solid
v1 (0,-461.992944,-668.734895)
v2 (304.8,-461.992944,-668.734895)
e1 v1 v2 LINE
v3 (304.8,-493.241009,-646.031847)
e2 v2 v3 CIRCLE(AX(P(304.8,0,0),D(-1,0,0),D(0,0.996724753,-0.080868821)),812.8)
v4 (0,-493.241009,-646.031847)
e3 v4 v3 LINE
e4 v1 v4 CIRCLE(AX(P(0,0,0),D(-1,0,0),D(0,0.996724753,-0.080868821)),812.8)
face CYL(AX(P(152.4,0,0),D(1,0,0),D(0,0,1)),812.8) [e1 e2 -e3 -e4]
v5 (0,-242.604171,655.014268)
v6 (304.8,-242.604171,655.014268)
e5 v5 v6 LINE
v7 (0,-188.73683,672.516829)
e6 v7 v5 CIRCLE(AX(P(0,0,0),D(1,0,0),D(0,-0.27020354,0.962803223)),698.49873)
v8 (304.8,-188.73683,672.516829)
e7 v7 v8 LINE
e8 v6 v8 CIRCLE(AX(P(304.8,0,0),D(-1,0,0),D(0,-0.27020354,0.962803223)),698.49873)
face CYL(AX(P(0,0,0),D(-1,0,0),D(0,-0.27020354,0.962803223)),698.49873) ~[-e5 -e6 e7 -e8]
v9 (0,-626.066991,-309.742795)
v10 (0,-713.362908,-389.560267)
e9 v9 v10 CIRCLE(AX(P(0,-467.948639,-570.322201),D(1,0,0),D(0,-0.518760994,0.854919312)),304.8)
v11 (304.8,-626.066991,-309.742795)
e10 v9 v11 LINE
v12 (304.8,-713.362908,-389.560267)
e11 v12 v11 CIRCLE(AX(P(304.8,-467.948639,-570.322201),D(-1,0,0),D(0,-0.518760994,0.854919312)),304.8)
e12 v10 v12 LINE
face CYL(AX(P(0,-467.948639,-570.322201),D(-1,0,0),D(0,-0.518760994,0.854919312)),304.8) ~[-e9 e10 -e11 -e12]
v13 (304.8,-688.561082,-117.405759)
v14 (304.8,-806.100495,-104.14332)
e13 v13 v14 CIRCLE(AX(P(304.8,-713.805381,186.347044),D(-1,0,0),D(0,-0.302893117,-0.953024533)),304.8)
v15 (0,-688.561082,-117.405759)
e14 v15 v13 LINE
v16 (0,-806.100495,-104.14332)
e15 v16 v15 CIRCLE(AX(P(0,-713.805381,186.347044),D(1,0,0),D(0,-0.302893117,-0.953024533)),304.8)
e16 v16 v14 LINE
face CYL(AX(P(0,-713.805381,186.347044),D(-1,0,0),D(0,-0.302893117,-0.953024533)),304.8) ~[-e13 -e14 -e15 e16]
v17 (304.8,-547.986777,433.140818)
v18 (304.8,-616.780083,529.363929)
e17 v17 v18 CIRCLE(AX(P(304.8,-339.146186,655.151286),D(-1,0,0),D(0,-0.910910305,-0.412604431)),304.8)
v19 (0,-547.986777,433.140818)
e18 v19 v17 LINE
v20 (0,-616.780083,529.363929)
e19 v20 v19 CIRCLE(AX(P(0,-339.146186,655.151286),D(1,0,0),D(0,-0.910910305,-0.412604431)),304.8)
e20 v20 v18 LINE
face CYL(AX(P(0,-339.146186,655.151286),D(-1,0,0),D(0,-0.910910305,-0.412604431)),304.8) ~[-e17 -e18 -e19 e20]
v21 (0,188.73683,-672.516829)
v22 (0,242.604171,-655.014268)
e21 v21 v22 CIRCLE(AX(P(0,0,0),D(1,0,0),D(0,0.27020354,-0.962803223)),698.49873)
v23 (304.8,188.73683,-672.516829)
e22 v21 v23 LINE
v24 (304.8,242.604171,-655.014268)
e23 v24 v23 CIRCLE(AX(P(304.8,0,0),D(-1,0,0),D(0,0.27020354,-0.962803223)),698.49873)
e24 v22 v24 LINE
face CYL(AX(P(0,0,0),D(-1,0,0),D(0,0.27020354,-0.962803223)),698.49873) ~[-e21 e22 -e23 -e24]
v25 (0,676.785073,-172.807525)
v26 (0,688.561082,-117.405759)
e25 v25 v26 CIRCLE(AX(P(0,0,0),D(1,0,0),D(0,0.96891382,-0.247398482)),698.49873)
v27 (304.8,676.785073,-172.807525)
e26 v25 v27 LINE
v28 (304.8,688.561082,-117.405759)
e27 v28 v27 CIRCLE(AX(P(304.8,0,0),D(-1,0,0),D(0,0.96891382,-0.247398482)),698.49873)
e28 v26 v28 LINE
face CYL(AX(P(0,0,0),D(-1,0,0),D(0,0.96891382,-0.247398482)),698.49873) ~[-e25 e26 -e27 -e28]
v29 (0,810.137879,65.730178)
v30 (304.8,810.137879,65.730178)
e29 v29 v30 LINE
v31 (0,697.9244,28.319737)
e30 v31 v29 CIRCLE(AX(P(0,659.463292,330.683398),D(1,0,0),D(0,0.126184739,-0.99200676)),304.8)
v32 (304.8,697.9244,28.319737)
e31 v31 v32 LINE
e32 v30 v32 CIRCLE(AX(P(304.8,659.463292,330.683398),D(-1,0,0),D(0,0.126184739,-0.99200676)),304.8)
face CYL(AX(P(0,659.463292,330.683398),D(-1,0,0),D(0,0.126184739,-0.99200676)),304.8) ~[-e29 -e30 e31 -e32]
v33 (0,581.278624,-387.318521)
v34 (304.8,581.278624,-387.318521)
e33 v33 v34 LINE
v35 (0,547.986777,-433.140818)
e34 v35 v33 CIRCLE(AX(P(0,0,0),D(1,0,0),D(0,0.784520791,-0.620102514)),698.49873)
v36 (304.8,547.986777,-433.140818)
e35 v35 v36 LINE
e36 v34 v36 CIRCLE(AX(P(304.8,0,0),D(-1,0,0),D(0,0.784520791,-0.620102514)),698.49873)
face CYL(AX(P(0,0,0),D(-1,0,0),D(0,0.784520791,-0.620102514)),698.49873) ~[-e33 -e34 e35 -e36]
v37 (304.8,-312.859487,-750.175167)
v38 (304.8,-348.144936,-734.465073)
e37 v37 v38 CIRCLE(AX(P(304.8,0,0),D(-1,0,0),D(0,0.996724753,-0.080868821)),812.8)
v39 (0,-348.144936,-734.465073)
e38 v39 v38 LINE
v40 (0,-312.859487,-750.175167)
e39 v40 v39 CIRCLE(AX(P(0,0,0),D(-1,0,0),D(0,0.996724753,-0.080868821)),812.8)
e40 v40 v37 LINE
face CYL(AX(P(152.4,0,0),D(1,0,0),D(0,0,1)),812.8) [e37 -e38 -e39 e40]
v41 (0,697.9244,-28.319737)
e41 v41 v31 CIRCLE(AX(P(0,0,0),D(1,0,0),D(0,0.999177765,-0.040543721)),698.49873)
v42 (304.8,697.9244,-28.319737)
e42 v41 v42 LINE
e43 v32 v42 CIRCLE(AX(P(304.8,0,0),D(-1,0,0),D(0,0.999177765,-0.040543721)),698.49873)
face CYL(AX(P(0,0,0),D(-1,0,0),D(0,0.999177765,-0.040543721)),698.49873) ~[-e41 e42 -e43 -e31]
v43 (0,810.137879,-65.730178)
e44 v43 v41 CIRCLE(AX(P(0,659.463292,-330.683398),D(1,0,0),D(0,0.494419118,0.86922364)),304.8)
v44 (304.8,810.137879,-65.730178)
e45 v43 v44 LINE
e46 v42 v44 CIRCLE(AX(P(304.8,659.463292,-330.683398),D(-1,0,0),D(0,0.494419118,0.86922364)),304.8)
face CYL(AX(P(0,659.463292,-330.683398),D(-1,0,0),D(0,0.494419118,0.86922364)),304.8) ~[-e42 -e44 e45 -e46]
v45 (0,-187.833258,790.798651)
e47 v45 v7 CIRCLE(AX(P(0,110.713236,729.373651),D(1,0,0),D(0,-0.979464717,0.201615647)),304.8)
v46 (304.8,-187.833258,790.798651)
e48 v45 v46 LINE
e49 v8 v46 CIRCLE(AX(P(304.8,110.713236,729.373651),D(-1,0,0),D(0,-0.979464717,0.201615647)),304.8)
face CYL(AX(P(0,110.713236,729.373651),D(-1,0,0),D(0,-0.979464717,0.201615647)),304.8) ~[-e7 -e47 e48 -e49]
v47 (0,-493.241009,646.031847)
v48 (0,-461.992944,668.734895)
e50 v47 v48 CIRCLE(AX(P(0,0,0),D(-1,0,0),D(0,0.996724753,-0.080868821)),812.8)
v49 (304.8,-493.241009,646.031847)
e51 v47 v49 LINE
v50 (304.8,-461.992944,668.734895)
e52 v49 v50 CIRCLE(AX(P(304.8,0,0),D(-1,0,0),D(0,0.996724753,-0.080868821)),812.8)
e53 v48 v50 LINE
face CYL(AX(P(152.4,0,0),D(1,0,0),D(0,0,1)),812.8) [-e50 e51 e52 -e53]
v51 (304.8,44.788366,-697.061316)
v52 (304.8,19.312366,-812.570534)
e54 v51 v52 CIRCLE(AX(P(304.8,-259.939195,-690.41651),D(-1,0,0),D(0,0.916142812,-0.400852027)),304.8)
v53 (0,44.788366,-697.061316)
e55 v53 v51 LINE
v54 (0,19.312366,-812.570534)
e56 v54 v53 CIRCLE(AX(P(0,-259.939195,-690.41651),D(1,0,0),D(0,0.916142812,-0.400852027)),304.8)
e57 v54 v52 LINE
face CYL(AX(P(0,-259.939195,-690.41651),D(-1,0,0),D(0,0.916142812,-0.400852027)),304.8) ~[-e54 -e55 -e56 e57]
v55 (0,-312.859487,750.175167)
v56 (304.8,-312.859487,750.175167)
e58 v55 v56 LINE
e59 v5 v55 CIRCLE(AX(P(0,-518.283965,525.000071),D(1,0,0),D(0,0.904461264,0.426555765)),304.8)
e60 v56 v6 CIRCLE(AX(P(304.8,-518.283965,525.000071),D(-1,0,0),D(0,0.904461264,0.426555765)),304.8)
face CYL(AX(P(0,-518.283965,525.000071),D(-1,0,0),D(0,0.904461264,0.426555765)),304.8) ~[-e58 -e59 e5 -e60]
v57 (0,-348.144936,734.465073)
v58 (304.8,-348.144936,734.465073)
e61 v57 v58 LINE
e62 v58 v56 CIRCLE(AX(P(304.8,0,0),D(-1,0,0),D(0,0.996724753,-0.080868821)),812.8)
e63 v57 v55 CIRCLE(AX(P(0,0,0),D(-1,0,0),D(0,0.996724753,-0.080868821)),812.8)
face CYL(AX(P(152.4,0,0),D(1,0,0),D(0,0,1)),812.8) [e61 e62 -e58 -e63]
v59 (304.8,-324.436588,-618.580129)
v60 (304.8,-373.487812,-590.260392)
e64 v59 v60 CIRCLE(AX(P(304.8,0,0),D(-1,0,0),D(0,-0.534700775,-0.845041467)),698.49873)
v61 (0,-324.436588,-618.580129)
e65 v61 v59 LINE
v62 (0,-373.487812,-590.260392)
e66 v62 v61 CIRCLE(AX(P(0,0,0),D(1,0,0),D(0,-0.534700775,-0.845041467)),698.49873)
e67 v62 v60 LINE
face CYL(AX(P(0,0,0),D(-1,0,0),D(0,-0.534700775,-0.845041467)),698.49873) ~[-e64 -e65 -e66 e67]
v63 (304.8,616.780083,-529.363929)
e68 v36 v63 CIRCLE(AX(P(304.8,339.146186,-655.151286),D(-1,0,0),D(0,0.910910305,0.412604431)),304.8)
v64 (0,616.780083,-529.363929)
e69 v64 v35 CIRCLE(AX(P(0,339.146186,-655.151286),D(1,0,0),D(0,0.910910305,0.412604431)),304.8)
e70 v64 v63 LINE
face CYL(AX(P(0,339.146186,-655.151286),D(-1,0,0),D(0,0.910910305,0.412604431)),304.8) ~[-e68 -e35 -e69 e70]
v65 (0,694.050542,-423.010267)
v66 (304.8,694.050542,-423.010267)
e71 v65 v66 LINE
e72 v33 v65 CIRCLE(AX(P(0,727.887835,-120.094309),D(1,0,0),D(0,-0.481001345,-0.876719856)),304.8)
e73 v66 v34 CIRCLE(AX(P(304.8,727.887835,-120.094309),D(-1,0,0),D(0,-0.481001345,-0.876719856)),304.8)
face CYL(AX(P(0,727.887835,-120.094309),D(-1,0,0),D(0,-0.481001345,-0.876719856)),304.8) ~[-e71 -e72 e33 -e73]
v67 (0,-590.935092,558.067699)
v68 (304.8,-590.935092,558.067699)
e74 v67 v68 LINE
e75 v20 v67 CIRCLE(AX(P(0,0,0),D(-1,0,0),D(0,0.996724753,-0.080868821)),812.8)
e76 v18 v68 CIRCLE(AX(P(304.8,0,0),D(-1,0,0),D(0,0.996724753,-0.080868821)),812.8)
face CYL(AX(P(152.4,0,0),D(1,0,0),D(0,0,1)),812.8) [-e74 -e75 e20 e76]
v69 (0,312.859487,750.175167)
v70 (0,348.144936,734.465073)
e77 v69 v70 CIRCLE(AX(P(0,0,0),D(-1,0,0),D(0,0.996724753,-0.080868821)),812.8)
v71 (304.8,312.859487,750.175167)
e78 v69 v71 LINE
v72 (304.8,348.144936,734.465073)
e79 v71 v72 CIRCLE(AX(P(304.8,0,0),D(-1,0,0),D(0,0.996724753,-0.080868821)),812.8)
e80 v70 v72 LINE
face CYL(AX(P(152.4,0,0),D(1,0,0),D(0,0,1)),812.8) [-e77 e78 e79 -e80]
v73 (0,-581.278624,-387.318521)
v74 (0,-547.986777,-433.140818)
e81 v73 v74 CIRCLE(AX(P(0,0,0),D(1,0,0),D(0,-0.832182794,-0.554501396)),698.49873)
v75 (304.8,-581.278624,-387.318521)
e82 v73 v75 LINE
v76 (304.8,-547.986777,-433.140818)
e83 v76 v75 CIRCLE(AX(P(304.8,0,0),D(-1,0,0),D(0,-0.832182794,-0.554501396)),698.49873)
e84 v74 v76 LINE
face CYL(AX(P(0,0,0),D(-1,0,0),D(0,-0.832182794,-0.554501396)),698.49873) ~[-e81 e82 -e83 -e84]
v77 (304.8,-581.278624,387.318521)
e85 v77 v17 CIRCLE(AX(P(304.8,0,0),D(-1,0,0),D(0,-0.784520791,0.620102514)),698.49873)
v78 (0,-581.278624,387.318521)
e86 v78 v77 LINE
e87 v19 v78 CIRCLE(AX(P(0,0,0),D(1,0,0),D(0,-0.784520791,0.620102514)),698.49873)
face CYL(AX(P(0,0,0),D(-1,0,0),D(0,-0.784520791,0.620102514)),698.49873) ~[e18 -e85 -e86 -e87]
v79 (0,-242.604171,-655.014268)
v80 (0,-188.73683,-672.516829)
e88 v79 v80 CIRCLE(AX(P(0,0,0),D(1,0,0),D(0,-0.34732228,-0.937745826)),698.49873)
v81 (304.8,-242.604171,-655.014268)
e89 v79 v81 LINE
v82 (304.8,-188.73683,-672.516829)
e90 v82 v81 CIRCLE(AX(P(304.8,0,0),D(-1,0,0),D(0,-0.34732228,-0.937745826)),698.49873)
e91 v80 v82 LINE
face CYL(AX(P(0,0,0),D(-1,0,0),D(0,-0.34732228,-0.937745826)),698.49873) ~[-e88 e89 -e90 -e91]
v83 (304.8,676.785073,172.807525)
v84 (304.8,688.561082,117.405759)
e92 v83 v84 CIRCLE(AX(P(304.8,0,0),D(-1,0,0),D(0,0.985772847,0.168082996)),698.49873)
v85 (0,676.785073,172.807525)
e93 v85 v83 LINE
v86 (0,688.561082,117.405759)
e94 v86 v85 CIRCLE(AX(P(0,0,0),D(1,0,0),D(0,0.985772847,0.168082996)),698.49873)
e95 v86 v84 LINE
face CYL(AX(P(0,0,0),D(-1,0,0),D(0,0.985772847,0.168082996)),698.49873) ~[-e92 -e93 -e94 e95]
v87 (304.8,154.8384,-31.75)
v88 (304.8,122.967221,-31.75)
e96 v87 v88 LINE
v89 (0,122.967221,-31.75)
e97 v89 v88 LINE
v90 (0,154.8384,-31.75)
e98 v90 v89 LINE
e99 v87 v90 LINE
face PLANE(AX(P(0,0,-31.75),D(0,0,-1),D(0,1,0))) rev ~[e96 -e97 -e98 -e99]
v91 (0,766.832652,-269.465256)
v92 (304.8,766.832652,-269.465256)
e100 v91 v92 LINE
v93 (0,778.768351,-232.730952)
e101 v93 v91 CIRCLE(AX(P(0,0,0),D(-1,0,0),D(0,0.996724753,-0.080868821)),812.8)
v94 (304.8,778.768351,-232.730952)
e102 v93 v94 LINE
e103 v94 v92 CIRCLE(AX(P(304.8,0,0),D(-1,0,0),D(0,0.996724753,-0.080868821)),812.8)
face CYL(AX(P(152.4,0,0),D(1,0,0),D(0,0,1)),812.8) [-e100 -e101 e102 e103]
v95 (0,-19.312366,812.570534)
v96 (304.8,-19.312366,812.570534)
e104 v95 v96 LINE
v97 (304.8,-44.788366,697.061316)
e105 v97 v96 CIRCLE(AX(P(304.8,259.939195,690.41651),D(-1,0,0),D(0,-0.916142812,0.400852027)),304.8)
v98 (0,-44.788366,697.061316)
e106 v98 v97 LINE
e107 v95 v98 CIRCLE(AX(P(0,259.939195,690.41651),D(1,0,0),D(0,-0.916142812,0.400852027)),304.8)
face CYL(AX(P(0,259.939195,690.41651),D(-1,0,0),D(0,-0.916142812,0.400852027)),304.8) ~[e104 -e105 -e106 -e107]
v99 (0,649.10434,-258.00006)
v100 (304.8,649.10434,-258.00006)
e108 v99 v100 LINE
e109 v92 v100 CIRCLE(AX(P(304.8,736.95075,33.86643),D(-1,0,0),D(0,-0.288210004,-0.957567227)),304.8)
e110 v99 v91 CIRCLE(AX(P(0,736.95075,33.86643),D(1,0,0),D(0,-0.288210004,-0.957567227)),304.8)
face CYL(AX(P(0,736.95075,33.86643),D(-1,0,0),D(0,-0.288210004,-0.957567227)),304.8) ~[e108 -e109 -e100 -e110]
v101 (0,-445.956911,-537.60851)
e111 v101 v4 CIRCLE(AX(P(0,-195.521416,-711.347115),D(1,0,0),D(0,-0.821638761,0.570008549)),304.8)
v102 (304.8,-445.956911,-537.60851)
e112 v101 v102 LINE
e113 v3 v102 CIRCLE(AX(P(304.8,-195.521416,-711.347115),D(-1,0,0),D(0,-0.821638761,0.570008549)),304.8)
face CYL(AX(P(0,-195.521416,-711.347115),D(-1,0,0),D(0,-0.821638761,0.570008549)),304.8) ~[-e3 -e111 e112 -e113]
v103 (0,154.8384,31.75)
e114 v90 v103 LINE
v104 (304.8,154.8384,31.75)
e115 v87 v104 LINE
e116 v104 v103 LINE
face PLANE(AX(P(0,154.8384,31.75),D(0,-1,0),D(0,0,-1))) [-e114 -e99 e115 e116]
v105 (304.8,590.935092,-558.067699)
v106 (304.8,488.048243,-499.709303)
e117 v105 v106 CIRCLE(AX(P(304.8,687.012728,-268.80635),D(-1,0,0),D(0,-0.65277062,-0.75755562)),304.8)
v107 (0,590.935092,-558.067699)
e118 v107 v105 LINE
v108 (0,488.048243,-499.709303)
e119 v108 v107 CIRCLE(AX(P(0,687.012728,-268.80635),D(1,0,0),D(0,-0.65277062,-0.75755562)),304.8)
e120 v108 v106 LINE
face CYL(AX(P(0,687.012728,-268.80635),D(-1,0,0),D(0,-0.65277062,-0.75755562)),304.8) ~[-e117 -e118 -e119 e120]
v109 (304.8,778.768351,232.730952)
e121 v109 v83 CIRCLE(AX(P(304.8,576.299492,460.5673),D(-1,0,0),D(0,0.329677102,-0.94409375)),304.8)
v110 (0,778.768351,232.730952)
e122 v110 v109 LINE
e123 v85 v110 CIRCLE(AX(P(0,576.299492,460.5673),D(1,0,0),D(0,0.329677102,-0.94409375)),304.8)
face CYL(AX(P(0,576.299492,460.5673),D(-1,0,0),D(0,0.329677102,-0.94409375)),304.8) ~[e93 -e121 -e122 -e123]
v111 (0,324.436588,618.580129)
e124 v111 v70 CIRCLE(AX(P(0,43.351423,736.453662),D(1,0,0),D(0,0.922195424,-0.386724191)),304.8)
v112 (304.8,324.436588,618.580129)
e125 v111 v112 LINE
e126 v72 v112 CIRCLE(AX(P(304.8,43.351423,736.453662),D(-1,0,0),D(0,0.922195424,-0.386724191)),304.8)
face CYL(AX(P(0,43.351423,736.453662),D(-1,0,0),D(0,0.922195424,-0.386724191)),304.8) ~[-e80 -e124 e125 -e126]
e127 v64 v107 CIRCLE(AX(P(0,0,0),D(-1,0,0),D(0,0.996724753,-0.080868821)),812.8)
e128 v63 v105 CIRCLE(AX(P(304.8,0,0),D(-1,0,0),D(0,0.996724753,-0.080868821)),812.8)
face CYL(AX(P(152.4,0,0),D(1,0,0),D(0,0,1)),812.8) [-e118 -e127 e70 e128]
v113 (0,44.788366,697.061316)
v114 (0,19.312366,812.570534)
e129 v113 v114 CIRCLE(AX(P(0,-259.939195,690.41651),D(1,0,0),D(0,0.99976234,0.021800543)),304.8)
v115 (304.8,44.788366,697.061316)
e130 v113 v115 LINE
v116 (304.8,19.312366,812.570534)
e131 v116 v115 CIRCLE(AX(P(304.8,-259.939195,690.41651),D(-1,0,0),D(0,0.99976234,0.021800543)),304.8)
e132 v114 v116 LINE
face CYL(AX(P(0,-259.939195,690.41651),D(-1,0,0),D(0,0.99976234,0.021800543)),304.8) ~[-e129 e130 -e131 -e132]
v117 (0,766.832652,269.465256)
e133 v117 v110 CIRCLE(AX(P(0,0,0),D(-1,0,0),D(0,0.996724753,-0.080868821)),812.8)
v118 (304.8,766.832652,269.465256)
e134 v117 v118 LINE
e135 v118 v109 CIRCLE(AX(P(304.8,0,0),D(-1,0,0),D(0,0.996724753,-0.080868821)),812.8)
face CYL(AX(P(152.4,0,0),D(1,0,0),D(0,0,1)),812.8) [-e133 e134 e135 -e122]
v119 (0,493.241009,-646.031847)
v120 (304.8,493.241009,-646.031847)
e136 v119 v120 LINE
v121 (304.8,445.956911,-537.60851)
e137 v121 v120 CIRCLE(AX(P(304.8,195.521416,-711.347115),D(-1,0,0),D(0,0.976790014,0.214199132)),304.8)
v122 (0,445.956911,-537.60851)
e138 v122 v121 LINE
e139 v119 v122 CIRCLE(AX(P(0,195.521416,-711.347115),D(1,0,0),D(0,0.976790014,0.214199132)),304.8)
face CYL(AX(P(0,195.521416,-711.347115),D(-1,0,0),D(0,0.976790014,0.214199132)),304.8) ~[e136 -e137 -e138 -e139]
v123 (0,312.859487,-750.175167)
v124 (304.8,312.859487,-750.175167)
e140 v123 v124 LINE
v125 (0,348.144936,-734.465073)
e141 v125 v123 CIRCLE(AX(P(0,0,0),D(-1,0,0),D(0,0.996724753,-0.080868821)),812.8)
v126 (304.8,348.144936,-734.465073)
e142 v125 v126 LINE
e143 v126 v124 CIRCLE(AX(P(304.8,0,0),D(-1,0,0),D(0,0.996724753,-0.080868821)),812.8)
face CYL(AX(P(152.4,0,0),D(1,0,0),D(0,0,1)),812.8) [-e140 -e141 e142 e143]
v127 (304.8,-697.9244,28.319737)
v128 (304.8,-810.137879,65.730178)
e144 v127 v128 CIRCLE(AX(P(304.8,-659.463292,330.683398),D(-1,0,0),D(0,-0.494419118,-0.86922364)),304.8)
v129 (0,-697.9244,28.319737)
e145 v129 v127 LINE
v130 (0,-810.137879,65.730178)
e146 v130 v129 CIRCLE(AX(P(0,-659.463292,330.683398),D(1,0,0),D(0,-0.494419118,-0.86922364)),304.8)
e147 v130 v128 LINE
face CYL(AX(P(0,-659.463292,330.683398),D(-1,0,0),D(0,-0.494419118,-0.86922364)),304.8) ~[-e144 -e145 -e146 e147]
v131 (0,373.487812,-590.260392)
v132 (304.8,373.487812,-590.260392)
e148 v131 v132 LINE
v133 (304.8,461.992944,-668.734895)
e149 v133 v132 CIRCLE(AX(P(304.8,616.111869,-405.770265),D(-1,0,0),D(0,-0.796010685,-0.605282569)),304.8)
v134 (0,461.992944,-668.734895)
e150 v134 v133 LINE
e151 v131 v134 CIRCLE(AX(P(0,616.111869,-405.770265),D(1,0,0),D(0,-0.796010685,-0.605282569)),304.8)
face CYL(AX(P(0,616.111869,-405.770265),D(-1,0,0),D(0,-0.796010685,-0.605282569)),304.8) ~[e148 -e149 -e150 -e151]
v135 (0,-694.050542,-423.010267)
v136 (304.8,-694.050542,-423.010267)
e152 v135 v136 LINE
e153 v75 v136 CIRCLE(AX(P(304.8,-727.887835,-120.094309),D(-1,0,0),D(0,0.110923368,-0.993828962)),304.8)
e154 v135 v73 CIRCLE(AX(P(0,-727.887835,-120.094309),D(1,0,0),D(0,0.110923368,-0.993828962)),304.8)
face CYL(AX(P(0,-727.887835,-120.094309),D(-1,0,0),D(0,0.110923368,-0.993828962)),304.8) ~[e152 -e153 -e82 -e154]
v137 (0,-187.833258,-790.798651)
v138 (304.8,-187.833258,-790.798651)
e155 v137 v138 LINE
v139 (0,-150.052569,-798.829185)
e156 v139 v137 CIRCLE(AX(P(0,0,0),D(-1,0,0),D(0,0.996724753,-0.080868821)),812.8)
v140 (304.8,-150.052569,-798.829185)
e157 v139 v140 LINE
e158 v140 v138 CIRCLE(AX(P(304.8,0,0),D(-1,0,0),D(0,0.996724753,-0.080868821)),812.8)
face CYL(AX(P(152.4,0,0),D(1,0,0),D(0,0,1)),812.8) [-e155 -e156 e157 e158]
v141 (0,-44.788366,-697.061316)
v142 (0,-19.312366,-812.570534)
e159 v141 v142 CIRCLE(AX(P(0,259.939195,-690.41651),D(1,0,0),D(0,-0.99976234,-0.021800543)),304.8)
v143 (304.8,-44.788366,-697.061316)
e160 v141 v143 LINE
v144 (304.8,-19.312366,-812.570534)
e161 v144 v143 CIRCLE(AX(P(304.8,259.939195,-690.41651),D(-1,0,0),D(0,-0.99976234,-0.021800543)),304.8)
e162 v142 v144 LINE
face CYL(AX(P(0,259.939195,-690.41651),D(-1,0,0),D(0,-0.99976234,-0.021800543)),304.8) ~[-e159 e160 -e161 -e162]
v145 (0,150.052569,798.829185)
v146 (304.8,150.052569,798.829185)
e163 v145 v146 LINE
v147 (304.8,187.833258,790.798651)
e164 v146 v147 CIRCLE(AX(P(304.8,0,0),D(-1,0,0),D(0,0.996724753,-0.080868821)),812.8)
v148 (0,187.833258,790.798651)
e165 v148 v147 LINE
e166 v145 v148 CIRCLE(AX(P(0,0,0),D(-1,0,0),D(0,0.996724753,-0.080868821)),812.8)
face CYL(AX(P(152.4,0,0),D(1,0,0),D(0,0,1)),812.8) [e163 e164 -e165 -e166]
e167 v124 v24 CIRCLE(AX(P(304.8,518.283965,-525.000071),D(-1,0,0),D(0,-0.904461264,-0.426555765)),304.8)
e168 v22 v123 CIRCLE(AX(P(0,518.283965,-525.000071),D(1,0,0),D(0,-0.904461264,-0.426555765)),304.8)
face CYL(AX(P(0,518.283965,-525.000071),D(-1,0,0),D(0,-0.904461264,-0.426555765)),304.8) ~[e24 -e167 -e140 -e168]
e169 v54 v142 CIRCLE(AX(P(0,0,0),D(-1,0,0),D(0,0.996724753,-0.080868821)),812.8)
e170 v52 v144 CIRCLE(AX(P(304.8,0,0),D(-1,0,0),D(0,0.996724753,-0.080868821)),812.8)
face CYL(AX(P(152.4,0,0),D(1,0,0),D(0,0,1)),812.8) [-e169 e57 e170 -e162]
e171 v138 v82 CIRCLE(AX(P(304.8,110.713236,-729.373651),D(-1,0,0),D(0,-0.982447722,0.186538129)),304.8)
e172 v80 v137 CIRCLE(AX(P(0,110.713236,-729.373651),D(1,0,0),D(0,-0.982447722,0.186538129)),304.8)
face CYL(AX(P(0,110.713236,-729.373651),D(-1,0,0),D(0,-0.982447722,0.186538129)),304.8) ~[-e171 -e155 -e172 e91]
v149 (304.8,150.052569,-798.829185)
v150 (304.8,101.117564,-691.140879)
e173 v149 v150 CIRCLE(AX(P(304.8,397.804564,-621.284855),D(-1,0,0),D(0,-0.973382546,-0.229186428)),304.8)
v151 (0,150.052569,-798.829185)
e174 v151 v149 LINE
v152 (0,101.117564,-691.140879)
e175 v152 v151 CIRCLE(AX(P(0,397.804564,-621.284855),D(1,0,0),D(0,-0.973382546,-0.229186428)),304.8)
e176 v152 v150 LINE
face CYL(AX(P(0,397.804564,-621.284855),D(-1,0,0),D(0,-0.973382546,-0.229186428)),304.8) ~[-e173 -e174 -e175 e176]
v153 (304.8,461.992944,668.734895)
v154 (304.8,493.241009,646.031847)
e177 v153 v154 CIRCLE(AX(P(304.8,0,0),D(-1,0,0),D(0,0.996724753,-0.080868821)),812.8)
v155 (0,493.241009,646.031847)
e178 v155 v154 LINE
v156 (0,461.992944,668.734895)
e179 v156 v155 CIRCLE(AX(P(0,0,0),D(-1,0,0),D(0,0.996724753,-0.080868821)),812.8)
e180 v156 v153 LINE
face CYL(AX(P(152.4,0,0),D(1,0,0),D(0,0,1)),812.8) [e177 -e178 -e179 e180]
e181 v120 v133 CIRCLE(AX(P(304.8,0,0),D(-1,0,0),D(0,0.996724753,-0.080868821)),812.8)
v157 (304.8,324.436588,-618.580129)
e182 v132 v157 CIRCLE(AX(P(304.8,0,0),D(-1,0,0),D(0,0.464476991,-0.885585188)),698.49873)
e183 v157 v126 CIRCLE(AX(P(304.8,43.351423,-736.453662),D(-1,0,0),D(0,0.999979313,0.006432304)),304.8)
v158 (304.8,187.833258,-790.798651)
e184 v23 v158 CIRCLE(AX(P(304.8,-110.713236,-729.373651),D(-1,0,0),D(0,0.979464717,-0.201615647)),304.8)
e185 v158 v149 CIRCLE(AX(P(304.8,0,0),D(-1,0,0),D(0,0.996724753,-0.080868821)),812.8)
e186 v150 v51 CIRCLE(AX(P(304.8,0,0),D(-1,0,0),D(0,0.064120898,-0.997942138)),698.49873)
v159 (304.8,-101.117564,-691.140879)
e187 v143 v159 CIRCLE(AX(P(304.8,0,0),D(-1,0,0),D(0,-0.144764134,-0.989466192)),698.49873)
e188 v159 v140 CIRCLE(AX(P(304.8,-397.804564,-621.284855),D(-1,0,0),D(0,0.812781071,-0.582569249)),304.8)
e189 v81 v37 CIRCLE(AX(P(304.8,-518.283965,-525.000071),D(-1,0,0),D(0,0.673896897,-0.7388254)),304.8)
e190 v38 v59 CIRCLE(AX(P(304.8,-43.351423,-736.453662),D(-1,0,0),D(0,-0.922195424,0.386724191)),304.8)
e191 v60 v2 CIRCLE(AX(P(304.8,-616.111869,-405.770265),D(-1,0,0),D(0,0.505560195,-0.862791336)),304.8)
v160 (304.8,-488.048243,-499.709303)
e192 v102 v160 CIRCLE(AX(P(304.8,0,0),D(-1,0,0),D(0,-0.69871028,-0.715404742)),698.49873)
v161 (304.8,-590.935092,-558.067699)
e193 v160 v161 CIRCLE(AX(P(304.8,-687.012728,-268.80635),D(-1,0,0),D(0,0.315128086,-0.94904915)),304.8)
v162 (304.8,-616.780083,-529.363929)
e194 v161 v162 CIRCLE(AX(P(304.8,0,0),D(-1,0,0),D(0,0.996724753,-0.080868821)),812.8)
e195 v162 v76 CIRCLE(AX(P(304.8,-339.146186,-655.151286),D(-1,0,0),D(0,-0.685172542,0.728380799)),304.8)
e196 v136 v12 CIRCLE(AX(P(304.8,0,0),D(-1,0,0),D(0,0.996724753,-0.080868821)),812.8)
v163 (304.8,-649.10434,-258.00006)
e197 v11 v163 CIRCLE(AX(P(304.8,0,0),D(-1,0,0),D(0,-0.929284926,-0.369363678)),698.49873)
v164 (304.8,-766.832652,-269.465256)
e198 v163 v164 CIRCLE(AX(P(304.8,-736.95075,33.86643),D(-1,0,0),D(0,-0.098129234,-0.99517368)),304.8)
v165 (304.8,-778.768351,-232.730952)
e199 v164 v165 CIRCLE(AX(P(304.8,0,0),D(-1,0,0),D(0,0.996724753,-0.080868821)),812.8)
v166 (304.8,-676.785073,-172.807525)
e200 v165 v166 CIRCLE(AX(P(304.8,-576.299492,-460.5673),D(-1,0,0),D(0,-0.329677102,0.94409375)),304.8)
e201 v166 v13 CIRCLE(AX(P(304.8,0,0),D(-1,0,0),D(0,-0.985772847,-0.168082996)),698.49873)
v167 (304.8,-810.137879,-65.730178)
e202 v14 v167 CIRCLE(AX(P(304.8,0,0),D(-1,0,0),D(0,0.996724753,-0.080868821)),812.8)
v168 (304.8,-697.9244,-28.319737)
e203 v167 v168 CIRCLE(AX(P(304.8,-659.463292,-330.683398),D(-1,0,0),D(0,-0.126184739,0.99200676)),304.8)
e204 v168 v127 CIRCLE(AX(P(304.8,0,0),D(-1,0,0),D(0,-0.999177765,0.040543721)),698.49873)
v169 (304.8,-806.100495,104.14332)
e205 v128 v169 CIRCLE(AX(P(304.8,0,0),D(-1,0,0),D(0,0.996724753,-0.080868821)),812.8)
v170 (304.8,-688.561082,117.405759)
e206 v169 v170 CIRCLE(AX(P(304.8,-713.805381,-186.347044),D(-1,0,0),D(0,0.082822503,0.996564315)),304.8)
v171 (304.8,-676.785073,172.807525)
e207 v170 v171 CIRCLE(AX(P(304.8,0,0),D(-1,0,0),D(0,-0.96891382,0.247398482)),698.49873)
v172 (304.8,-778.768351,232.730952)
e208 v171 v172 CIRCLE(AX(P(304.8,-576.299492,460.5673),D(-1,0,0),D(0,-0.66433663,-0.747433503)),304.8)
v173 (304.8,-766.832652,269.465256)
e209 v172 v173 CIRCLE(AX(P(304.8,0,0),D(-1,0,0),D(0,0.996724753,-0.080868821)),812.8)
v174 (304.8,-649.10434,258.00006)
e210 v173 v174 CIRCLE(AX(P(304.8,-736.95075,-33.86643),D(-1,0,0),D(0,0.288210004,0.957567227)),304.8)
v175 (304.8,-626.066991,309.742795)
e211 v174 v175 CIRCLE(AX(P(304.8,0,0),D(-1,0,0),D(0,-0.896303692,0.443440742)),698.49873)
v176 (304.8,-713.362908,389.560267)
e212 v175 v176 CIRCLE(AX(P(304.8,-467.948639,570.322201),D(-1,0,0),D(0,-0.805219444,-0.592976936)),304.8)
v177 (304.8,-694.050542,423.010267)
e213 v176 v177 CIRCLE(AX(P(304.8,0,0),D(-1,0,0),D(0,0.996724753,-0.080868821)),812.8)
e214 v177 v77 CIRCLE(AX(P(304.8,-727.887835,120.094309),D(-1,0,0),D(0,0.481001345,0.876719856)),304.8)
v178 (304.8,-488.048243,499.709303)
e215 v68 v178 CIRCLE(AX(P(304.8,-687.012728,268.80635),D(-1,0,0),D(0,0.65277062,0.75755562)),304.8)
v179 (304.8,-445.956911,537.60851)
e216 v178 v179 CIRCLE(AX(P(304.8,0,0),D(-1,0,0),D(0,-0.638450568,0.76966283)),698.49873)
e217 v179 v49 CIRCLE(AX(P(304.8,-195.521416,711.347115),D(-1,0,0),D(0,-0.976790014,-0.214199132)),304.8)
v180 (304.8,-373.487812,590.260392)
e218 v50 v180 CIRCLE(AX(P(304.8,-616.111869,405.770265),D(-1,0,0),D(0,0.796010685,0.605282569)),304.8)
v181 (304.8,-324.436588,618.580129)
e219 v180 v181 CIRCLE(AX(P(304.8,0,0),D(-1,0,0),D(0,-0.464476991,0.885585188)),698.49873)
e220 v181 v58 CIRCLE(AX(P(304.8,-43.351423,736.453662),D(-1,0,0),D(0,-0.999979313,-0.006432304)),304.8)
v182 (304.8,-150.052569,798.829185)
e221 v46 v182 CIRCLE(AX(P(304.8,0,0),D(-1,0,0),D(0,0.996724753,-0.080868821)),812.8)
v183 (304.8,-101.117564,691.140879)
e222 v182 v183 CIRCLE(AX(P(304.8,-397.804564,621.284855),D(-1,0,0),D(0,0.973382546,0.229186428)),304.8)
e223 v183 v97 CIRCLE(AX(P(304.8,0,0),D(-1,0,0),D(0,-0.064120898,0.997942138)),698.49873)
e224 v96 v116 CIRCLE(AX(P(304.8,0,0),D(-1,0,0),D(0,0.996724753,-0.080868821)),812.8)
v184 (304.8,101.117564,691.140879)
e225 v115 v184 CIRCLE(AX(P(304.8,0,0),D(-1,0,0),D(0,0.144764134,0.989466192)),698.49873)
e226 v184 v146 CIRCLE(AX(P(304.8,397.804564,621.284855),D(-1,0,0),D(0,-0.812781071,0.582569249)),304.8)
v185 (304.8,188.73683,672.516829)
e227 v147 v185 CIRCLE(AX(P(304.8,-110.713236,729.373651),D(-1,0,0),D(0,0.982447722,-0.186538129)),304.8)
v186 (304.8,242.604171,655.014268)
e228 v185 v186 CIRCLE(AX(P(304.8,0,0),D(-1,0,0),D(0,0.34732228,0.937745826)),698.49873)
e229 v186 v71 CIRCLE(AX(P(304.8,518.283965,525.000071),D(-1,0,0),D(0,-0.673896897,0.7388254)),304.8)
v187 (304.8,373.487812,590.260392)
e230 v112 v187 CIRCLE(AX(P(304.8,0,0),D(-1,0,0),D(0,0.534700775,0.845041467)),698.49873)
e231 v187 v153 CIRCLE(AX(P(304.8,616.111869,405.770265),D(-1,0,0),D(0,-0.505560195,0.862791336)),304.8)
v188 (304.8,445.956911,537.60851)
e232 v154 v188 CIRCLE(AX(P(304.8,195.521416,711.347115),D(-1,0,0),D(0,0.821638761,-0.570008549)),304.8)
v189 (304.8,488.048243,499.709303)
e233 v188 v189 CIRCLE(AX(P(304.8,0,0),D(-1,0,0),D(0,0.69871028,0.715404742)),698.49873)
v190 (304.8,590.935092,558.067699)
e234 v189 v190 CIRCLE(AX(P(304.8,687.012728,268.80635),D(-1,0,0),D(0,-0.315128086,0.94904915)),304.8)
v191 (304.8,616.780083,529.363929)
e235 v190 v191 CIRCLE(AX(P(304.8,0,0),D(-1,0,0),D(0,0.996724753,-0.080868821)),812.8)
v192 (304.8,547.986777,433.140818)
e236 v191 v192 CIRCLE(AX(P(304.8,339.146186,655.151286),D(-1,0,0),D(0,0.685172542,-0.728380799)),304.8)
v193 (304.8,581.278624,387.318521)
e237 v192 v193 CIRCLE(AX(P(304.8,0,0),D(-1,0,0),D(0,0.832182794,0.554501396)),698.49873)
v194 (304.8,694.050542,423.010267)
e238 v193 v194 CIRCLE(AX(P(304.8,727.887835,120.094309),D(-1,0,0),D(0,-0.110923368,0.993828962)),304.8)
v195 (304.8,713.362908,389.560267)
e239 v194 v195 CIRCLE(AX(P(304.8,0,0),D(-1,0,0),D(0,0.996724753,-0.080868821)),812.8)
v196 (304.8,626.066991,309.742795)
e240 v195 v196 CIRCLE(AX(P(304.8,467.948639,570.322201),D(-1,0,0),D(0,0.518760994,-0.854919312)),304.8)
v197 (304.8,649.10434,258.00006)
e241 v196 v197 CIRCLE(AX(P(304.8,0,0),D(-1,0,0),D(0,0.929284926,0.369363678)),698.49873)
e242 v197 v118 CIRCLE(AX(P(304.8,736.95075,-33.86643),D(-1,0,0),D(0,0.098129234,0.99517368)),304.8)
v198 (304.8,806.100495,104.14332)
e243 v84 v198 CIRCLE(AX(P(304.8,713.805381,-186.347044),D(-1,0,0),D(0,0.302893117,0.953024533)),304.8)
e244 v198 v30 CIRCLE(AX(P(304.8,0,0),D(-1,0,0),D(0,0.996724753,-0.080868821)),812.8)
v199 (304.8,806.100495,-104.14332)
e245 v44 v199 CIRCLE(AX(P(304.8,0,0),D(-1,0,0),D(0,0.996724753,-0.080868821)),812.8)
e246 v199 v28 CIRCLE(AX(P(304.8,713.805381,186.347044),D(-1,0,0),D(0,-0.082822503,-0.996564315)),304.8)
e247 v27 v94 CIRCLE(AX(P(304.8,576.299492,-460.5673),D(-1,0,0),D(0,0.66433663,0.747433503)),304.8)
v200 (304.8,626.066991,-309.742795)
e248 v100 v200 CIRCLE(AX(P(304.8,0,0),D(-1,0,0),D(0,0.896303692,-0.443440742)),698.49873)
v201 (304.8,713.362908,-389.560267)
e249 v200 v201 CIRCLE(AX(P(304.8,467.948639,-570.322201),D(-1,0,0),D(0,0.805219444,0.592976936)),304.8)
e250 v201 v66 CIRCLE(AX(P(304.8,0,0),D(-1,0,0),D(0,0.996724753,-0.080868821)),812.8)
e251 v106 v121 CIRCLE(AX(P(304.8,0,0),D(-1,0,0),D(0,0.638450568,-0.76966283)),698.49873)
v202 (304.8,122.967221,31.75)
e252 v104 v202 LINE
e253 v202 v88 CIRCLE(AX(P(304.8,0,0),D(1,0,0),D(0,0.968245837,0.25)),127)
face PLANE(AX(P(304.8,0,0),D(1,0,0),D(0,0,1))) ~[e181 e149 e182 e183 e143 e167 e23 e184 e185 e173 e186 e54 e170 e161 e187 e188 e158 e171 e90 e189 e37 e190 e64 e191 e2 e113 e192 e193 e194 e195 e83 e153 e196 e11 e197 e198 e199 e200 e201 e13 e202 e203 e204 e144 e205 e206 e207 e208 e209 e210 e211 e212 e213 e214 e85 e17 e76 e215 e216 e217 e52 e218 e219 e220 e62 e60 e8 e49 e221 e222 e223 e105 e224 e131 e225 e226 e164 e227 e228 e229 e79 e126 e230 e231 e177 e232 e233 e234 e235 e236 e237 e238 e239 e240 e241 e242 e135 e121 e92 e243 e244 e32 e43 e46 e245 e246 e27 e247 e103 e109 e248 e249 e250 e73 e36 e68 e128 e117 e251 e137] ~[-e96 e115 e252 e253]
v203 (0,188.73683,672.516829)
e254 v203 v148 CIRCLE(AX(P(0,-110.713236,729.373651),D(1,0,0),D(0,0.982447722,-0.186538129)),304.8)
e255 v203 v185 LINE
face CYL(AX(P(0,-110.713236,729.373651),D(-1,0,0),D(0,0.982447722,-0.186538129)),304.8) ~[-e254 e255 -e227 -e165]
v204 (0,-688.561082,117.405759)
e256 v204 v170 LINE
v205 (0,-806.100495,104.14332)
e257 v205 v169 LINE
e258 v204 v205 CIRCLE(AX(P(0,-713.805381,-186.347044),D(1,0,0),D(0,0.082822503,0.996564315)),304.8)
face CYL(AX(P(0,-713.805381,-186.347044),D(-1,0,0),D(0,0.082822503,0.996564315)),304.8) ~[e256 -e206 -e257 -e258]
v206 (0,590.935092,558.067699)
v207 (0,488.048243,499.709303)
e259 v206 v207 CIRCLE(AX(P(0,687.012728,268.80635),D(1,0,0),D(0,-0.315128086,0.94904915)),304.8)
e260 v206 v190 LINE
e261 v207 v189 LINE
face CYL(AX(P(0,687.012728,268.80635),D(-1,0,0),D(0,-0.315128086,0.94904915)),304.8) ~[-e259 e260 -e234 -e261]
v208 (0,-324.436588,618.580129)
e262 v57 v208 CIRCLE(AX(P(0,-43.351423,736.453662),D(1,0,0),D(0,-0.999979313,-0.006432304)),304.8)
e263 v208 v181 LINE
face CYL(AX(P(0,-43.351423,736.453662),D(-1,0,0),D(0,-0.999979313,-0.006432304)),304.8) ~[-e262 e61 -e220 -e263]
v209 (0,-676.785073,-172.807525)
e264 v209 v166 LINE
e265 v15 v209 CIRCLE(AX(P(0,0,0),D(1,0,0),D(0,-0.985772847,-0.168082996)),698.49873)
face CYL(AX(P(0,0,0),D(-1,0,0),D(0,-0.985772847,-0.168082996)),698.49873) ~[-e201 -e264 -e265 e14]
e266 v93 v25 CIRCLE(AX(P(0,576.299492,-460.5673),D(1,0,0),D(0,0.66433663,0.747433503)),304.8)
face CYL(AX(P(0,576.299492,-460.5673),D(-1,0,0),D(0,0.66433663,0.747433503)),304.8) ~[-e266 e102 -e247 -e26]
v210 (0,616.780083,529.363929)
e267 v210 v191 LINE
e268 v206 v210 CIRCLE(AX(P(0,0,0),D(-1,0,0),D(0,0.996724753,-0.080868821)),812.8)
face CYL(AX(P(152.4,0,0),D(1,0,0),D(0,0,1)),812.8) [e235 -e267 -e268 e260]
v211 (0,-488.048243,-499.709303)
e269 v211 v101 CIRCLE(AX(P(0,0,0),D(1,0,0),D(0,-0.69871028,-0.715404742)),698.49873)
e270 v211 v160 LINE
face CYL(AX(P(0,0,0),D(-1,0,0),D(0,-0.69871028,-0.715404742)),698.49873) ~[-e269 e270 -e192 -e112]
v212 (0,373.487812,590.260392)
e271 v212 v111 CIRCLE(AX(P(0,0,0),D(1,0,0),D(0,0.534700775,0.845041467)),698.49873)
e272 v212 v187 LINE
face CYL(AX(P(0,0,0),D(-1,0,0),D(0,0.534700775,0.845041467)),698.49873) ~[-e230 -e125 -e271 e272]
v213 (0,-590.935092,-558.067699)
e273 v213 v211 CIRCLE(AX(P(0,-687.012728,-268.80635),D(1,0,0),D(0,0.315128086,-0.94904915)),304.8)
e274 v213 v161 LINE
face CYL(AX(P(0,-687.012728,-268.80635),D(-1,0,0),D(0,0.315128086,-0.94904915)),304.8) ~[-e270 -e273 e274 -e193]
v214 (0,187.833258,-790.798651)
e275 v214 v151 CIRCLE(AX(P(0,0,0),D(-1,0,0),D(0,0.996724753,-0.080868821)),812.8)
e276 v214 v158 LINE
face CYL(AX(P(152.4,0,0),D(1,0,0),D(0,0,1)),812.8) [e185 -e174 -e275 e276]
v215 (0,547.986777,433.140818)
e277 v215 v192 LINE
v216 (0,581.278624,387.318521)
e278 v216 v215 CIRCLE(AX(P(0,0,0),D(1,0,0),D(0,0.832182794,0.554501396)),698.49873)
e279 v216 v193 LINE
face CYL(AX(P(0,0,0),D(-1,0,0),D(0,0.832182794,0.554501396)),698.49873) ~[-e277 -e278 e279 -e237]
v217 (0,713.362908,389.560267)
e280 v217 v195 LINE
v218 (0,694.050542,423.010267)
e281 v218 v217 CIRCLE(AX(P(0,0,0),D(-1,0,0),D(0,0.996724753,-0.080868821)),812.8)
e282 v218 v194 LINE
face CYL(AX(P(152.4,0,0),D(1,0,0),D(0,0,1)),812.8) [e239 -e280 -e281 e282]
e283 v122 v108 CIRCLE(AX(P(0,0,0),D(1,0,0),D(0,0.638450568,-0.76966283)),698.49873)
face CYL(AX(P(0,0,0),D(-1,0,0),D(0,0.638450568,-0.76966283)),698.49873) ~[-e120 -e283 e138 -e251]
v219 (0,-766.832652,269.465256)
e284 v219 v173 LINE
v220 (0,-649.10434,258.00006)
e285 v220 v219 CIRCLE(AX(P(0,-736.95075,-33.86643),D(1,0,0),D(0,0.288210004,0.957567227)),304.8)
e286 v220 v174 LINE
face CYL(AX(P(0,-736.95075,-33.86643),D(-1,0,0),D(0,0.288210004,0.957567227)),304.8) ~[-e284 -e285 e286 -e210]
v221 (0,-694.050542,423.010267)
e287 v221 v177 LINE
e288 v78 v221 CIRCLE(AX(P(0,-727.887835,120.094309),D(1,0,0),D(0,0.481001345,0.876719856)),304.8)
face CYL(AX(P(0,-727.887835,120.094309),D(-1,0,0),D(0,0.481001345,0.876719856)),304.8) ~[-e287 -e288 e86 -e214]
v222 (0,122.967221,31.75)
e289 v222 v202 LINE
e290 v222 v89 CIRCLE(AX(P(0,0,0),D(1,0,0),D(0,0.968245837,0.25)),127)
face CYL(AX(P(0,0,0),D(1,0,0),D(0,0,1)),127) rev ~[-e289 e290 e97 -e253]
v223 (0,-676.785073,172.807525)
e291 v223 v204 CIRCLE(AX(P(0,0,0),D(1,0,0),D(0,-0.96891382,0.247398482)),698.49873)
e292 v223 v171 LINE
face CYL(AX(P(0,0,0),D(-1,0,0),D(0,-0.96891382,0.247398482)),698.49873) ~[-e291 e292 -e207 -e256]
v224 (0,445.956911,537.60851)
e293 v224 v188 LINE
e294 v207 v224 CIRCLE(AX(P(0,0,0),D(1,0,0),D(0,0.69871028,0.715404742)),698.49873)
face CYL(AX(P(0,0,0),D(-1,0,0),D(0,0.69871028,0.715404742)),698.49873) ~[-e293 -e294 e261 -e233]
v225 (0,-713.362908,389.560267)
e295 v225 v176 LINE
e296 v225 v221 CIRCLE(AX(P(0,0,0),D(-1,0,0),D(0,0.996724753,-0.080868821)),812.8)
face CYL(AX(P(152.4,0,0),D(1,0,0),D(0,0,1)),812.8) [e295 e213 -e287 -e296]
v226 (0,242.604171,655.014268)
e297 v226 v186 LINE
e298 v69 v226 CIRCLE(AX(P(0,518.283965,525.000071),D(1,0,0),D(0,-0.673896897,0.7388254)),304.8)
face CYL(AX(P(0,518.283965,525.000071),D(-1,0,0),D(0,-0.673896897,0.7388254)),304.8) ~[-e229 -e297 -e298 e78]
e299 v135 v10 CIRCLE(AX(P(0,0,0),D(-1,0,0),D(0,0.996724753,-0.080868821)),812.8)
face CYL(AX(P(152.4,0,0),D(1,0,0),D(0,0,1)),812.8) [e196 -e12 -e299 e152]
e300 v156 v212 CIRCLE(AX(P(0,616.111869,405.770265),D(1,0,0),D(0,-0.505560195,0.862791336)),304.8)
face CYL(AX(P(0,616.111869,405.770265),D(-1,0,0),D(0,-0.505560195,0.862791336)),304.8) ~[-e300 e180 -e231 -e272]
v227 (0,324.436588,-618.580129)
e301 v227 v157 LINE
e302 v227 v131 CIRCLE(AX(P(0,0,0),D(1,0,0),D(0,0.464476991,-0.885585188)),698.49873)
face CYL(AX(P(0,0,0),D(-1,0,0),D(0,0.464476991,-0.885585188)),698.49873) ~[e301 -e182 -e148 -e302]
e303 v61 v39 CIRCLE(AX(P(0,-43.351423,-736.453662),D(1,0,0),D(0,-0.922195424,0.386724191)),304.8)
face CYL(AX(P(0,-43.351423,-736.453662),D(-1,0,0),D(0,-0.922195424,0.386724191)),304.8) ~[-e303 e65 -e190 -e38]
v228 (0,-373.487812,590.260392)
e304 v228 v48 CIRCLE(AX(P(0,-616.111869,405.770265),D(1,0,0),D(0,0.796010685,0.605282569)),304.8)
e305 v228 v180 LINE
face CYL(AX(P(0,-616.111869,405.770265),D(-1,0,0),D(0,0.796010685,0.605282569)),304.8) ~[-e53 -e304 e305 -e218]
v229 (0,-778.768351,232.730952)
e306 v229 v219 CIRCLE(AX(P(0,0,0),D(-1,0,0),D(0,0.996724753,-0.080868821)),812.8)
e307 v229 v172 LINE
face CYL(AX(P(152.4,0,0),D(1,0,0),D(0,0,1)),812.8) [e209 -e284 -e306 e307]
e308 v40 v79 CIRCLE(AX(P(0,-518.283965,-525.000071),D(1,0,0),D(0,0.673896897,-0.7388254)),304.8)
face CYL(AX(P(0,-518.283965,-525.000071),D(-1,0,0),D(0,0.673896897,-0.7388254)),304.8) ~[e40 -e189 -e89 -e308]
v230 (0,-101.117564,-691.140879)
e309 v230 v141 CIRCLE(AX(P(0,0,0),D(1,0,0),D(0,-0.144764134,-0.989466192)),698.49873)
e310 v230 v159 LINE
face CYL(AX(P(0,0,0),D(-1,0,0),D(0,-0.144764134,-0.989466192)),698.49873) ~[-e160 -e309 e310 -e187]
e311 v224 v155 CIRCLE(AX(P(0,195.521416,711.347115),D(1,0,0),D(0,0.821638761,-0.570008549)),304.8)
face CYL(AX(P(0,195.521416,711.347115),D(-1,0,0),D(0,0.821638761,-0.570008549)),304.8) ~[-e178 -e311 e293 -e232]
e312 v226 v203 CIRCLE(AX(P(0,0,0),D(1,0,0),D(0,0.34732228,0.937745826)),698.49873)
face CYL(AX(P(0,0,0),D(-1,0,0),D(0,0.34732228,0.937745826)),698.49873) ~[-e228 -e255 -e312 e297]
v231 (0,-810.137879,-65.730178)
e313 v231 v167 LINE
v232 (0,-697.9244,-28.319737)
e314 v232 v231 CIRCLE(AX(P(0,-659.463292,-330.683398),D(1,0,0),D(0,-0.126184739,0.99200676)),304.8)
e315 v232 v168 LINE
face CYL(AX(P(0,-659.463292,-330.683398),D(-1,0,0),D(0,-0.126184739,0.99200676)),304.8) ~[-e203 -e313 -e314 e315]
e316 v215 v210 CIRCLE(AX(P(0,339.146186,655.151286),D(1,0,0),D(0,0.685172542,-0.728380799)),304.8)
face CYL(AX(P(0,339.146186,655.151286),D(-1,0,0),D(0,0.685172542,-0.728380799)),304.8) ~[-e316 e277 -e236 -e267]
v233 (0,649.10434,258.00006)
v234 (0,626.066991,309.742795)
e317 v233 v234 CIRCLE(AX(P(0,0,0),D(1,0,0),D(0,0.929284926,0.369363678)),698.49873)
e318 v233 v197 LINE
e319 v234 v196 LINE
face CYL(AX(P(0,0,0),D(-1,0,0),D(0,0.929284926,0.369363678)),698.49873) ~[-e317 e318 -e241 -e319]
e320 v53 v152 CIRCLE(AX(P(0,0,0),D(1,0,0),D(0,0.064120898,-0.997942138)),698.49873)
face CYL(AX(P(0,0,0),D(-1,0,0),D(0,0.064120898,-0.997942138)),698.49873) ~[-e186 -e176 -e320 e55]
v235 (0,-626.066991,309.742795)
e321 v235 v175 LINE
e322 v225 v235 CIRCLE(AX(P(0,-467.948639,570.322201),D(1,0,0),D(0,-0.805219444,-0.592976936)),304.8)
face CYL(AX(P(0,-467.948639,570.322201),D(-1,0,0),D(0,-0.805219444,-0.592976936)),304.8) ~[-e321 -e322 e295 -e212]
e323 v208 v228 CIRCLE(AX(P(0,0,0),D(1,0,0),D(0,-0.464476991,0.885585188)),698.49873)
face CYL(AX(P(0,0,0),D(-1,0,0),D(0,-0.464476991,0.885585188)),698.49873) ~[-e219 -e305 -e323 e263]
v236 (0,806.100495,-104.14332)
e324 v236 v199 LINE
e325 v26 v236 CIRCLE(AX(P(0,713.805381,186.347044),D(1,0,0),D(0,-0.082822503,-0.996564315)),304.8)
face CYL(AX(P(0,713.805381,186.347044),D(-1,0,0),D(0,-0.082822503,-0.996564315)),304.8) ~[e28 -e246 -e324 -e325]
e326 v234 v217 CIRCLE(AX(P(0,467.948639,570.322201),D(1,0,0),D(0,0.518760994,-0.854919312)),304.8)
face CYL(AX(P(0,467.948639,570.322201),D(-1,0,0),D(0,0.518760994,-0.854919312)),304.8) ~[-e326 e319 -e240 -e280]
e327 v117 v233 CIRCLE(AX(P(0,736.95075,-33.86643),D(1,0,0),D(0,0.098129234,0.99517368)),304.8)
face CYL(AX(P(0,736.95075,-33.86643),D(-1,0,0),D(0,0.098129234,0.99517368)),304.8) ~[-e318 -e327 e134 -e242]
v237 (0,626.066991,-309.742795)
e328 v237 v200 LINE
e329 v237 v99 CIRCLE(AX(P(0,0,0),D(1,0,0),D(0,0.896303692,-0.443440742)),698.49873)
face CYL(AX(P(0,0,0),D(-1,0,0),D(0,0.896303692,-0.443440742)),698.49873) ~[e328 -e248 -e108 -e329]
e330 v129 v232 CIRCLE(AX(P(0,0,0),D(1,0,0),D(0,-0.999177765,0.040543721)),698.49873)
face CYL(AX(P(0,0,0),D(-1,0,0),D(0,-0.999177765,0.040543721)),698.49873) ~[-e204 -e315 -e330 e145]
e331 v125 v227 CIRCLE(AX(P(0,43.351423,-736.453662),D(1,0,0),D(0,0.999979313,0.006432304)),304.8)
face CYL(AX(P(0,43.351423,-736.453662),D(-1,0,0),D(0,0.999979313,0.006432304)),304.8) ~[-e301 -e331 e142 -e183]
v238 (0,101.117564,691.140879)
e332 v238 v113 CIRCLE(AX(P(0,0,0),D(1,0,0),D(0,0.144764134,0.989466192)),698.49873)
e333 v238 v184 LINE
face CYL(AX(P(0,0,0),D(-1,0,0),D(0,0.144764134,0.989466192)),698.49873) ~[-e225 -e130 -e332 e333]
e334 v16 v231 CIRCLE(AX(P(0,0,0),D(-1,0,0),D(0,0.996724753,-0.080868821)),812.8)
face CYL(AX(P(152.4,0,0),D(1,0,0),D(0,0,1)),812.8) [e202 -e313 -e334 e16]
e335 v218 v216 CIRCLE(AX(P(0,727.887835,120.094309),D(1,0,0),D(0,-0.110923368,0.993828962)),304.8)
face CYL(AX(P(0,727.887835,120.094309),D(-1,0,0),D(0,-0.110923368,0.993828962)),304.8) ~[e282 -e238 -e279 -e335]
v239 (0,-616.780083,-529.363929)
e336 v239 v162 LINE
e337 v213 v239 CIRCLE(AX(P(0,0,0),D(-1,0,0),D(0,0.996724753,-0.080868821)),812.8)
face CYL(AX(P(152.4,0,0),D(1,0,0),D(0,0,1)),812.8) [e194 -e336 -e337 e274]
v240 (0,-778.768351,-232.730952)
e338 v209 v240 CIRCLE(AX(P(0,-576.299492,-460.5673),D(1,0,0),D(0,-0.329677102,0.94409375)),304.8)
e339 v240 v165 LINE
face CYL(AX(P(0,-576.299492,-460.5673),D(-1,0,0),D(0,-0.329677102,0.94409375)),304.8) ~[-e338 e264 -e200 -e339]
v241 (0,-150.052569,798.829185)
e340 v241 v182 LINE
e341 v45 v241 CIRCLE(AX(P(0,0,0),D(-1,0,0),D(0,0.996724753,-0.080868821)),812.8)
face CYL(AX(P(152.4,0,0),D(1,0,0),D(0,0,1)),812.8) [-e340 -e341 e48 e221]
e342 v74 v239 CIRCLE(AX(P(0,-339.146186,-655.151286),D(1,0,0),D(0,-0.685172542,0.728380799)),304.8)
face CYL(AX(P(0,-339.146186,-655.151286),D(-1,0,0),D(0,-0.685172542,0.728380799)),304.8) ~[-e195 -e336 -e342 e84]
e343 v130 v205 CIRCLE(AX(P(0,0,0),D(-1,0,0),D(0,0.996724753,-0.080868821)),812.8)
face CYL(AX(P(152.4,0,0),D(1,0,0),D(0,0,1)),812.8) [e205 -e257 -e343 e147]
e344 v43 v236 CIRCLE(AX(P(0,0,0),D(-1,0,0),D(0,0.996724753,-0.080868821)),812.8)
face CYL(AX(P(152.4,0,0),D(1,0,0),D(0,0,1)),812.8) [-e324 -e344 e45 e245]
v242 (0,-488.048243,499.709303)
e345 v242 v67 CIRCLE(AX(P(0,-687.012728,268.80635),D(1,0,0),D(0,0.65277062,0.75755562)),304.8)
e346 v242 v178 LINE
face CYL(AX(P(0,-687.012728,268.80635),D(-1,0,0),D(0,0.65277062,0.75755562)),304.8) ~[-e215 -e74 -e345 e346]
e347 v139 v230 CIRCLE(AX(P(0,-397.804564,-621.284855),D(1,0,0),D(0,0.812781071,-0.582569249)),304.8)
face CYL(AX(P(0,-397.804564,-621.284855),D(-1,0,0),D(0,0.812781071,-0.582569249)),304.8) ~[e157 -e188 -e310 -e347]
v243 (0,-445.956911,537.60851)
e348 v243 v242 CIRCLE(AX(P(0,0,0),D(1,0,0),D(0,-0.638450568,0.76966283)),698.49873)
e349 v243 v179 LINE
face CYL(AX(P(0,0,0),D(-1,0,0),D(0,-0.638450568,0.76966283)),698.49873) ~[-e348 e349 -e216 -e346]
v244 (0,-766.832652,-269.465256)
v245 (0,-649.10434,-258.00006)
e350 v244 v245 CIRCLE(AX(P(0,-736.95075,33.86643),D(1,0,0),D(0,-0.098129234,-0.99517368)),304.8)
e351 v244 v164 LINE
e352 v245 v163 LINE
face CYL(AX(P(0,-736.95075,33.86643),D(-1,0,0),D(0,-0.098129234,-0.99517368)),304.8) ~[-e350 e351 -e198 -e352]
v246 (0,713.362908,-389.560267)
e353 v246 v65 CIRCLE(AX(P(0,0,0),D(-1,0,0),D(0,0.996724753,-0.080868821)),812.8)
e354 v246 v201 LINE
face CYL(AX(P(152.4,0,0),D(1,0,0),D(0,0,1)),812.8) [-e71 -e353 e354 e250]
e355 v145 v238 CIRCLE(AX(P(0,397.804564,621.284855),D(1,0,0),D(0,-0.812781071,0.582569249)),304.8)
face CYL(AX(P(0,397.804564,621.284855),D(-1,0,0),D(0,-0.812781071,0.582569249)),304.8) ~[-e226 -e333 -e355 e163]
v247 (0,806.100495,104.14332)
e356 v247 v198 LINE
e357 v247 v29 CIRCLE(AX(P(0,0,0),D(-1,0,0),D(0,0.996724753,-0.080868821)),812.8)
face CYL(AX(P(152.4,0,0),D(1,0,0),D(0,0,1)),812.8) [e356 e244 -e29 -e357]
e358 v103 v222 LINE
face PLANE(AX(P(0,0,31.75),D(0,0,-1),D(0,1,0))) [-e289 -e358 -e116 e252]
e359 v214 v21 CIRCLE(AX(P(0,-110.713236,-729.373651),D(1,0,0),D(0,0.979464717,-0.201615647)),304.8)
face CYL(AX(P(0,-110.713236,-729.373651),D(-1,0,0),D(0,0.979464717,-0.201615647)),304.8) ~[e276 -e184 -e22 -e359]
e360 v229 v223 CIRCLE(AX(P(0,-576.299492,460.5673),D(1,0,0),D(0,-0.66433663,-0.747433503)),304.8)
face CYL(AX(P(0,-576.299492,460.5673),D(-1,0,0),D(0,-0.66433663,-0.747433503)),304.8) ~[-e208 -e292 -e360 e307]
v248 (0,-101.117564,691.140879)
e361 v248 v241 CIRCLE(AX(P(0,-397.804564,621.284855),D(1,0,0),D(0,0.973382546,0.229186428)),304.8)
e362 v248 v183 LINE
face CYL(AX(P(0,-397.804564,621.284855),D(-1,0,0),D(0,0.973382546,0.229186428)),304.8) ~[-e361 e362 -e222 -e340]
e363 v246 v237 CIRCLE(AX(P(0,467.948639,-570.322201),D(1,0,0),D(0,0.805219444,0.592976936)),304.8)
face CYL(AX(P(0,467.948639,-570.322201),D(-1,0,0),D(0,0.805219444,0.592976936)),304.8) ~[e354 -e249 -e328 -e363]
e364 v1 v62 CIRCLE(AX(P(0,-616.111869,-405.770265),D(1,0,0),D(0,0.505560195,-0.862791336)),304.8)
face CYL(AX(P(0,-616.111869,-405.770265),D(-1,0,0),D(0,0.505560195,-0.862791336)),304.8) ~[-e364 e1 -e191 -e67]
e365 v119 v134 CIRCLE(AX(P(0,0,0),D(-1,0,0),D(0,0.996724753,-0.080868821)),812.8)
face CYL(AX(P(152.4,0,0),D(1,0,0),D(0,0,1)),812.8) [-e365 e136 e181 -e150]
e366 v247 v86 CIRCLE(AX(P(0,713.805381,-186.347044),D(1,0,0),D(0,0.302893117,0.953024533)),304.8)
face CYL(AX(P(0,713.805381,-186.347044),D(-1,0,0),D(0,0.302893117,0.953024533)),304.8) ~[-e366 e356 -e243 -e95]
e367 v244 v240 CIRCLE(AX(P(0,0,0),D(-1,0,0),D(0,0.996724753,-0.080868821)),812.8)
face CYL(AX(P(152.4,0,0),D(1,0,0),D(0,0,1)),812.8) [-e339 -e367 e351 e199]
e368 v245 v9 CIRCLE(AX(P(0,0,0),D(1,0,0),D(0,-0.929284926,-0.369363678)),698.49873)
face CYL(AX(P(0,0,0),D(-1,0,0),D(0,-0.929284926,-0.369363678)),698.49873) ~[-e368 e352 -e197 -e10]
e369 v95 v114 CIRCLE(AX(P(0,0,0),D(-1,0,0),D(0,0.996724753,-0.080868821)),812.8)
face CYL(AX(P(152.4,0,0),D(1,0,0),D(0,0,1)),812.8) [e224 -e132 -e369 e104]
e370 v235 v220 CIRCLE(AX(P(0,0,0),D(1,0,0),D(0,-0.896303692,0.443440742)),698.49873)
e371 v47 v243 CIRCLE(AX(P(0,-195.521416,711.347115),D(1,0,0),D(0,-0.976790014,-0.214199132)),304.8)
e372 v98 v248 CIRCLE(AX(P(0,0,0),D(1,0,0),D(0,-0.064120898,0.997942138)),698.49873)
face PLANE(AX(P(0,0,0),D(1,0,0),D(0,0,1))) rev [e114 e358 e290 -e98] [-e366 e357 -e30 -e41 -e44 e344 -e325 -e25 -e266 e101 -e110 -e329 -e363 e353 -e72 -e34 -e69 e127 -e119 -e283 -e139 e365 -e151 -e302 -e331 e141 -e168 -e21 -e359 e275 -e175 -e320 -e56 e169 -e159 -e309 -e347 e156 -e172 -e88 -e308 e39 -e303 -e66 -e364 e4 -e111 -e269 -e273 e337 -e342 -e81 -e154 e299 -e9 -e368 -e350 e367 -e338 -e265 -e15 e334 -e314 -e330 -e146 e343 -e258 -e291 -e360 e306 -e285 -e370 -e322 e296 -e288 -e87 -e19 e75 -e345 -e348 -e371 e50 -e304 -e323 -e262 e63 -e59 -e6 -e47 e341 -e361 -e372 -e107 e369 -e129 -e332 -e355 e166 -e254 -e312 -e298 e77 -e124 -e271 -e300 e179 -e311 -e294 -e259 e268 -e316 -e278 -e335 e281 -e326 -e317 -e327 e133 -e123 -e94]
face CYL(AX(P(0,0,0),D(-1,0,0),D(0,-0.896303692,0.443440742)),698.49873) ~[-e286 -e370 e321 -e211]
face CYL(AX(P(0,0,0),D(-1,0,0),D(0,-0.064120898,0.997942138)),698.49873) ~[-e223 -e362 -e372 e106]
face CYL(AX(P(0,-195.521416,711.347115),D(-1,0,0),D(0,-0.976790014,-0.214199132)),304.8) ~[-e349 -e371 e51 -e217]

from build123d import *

# Parameters (mm, degrees)
BASPROSKE_W     = 304.8
BASPROSKE_H     = 812.8
TOOTHCUT_DEPTH  = 1190.197510929
TEETHCUTS_COUNT = 30
TEETHCUTS_ANGLE = 348
BORSKE_R        = 127
BORE_DEPTH      = 304.8000508
KEYSKE_W        = 63.5
KEYSKE_H        = 154.8384
KEYWAY_DEPTH    = 304.8000508


with BuildPart() as part:
    # BasProSke → Base-Revolve (revolve)
    with BuildSketch(Plane(origin=(0, 0, 0), x_dir=(1, 0, 0), z_dir=(0, 1, 0)), mode=Mode.PRIVATE) as base_revolve_sk:
        with Locations((152.4, 406.4)):
            Rectangle(BASPROSKE_W, BASPROSKE_H)
    revolve(base_revolve_sk.sketch.rotate(Axis((-10, 0, 0), (1, 0, 0)), 180), axis=Axis((-10, 0, 0), (1, 0, 0)))

    # TooCutSke → ToothCut (cut, through all)
    with BuildSketch(Plane(origin=(0, 0, 0), x_dir=(0, 0, -1), z_dir=(1, 0, 0))):
        with BuildLine():
            ThreePointArc((28.319737367, 697.924400123), (0, 698.49873), (-28.319737367, 697.924400123))
            ThreePointArc((-28.319737367, 697.924400123), (-41.533758507, 755.876600482), (-65.744032335, 810.162238751))
            ThreePointArc((-65.744032335, 810.162238751), (0, 812.8254), (65.744032335, 810.162238751))
            ThreePointArc((65.744032335, 810.162238751), (41.533758507, 755.876600482), (28.319737367, 697.924400123))
        make_face()
    toothcut = extrude(amount=TOOTHCUT_DEPTH, mode=Mode.SUBTRACT)

    # TeethCuts: ToothCut ×30 about axis
    teethcuts_axis = Axis((-10, 0, 0), (1, 0, 0))
    for i in range(1, TEETHCUTS_COUNT):
        add(toothcut.rotate(teethcuts_axis, i * TEETHCUTS_ANGLE / (TEETHCUTS_COUNT - 1)), mode=Mode.SUBTRACT)

    # BorSke → Bore (cut, symmetric)
    with BuildSketch(Plane(origin=(0, 0, 0), x_dir=(0, 0, -1), z_dir=(1, 0, 0))):
        with Locations(Location((0, 0, 0), (0, 0, 180))):
            Circle(BORSKE_R)
    extrude(amount=BORE_DEPTH, both=True, mode=Mode.SUBTRACT)

    # KeySke → Keyway (cut, symmetric)
    with BuildSketch(Plane(origin=(0, 0, 0), x_dir=(0, 0, -1), z_dir=(1, 0, 0))):
        with Locations((0, 77.4192)):
            Rectangle(KEYSKE_W, KEYSKE_H)
    extrude(amount=KEYWAY_DEPTH, both=True, mode=Mode.SUBTRACT)


solid = part.part
